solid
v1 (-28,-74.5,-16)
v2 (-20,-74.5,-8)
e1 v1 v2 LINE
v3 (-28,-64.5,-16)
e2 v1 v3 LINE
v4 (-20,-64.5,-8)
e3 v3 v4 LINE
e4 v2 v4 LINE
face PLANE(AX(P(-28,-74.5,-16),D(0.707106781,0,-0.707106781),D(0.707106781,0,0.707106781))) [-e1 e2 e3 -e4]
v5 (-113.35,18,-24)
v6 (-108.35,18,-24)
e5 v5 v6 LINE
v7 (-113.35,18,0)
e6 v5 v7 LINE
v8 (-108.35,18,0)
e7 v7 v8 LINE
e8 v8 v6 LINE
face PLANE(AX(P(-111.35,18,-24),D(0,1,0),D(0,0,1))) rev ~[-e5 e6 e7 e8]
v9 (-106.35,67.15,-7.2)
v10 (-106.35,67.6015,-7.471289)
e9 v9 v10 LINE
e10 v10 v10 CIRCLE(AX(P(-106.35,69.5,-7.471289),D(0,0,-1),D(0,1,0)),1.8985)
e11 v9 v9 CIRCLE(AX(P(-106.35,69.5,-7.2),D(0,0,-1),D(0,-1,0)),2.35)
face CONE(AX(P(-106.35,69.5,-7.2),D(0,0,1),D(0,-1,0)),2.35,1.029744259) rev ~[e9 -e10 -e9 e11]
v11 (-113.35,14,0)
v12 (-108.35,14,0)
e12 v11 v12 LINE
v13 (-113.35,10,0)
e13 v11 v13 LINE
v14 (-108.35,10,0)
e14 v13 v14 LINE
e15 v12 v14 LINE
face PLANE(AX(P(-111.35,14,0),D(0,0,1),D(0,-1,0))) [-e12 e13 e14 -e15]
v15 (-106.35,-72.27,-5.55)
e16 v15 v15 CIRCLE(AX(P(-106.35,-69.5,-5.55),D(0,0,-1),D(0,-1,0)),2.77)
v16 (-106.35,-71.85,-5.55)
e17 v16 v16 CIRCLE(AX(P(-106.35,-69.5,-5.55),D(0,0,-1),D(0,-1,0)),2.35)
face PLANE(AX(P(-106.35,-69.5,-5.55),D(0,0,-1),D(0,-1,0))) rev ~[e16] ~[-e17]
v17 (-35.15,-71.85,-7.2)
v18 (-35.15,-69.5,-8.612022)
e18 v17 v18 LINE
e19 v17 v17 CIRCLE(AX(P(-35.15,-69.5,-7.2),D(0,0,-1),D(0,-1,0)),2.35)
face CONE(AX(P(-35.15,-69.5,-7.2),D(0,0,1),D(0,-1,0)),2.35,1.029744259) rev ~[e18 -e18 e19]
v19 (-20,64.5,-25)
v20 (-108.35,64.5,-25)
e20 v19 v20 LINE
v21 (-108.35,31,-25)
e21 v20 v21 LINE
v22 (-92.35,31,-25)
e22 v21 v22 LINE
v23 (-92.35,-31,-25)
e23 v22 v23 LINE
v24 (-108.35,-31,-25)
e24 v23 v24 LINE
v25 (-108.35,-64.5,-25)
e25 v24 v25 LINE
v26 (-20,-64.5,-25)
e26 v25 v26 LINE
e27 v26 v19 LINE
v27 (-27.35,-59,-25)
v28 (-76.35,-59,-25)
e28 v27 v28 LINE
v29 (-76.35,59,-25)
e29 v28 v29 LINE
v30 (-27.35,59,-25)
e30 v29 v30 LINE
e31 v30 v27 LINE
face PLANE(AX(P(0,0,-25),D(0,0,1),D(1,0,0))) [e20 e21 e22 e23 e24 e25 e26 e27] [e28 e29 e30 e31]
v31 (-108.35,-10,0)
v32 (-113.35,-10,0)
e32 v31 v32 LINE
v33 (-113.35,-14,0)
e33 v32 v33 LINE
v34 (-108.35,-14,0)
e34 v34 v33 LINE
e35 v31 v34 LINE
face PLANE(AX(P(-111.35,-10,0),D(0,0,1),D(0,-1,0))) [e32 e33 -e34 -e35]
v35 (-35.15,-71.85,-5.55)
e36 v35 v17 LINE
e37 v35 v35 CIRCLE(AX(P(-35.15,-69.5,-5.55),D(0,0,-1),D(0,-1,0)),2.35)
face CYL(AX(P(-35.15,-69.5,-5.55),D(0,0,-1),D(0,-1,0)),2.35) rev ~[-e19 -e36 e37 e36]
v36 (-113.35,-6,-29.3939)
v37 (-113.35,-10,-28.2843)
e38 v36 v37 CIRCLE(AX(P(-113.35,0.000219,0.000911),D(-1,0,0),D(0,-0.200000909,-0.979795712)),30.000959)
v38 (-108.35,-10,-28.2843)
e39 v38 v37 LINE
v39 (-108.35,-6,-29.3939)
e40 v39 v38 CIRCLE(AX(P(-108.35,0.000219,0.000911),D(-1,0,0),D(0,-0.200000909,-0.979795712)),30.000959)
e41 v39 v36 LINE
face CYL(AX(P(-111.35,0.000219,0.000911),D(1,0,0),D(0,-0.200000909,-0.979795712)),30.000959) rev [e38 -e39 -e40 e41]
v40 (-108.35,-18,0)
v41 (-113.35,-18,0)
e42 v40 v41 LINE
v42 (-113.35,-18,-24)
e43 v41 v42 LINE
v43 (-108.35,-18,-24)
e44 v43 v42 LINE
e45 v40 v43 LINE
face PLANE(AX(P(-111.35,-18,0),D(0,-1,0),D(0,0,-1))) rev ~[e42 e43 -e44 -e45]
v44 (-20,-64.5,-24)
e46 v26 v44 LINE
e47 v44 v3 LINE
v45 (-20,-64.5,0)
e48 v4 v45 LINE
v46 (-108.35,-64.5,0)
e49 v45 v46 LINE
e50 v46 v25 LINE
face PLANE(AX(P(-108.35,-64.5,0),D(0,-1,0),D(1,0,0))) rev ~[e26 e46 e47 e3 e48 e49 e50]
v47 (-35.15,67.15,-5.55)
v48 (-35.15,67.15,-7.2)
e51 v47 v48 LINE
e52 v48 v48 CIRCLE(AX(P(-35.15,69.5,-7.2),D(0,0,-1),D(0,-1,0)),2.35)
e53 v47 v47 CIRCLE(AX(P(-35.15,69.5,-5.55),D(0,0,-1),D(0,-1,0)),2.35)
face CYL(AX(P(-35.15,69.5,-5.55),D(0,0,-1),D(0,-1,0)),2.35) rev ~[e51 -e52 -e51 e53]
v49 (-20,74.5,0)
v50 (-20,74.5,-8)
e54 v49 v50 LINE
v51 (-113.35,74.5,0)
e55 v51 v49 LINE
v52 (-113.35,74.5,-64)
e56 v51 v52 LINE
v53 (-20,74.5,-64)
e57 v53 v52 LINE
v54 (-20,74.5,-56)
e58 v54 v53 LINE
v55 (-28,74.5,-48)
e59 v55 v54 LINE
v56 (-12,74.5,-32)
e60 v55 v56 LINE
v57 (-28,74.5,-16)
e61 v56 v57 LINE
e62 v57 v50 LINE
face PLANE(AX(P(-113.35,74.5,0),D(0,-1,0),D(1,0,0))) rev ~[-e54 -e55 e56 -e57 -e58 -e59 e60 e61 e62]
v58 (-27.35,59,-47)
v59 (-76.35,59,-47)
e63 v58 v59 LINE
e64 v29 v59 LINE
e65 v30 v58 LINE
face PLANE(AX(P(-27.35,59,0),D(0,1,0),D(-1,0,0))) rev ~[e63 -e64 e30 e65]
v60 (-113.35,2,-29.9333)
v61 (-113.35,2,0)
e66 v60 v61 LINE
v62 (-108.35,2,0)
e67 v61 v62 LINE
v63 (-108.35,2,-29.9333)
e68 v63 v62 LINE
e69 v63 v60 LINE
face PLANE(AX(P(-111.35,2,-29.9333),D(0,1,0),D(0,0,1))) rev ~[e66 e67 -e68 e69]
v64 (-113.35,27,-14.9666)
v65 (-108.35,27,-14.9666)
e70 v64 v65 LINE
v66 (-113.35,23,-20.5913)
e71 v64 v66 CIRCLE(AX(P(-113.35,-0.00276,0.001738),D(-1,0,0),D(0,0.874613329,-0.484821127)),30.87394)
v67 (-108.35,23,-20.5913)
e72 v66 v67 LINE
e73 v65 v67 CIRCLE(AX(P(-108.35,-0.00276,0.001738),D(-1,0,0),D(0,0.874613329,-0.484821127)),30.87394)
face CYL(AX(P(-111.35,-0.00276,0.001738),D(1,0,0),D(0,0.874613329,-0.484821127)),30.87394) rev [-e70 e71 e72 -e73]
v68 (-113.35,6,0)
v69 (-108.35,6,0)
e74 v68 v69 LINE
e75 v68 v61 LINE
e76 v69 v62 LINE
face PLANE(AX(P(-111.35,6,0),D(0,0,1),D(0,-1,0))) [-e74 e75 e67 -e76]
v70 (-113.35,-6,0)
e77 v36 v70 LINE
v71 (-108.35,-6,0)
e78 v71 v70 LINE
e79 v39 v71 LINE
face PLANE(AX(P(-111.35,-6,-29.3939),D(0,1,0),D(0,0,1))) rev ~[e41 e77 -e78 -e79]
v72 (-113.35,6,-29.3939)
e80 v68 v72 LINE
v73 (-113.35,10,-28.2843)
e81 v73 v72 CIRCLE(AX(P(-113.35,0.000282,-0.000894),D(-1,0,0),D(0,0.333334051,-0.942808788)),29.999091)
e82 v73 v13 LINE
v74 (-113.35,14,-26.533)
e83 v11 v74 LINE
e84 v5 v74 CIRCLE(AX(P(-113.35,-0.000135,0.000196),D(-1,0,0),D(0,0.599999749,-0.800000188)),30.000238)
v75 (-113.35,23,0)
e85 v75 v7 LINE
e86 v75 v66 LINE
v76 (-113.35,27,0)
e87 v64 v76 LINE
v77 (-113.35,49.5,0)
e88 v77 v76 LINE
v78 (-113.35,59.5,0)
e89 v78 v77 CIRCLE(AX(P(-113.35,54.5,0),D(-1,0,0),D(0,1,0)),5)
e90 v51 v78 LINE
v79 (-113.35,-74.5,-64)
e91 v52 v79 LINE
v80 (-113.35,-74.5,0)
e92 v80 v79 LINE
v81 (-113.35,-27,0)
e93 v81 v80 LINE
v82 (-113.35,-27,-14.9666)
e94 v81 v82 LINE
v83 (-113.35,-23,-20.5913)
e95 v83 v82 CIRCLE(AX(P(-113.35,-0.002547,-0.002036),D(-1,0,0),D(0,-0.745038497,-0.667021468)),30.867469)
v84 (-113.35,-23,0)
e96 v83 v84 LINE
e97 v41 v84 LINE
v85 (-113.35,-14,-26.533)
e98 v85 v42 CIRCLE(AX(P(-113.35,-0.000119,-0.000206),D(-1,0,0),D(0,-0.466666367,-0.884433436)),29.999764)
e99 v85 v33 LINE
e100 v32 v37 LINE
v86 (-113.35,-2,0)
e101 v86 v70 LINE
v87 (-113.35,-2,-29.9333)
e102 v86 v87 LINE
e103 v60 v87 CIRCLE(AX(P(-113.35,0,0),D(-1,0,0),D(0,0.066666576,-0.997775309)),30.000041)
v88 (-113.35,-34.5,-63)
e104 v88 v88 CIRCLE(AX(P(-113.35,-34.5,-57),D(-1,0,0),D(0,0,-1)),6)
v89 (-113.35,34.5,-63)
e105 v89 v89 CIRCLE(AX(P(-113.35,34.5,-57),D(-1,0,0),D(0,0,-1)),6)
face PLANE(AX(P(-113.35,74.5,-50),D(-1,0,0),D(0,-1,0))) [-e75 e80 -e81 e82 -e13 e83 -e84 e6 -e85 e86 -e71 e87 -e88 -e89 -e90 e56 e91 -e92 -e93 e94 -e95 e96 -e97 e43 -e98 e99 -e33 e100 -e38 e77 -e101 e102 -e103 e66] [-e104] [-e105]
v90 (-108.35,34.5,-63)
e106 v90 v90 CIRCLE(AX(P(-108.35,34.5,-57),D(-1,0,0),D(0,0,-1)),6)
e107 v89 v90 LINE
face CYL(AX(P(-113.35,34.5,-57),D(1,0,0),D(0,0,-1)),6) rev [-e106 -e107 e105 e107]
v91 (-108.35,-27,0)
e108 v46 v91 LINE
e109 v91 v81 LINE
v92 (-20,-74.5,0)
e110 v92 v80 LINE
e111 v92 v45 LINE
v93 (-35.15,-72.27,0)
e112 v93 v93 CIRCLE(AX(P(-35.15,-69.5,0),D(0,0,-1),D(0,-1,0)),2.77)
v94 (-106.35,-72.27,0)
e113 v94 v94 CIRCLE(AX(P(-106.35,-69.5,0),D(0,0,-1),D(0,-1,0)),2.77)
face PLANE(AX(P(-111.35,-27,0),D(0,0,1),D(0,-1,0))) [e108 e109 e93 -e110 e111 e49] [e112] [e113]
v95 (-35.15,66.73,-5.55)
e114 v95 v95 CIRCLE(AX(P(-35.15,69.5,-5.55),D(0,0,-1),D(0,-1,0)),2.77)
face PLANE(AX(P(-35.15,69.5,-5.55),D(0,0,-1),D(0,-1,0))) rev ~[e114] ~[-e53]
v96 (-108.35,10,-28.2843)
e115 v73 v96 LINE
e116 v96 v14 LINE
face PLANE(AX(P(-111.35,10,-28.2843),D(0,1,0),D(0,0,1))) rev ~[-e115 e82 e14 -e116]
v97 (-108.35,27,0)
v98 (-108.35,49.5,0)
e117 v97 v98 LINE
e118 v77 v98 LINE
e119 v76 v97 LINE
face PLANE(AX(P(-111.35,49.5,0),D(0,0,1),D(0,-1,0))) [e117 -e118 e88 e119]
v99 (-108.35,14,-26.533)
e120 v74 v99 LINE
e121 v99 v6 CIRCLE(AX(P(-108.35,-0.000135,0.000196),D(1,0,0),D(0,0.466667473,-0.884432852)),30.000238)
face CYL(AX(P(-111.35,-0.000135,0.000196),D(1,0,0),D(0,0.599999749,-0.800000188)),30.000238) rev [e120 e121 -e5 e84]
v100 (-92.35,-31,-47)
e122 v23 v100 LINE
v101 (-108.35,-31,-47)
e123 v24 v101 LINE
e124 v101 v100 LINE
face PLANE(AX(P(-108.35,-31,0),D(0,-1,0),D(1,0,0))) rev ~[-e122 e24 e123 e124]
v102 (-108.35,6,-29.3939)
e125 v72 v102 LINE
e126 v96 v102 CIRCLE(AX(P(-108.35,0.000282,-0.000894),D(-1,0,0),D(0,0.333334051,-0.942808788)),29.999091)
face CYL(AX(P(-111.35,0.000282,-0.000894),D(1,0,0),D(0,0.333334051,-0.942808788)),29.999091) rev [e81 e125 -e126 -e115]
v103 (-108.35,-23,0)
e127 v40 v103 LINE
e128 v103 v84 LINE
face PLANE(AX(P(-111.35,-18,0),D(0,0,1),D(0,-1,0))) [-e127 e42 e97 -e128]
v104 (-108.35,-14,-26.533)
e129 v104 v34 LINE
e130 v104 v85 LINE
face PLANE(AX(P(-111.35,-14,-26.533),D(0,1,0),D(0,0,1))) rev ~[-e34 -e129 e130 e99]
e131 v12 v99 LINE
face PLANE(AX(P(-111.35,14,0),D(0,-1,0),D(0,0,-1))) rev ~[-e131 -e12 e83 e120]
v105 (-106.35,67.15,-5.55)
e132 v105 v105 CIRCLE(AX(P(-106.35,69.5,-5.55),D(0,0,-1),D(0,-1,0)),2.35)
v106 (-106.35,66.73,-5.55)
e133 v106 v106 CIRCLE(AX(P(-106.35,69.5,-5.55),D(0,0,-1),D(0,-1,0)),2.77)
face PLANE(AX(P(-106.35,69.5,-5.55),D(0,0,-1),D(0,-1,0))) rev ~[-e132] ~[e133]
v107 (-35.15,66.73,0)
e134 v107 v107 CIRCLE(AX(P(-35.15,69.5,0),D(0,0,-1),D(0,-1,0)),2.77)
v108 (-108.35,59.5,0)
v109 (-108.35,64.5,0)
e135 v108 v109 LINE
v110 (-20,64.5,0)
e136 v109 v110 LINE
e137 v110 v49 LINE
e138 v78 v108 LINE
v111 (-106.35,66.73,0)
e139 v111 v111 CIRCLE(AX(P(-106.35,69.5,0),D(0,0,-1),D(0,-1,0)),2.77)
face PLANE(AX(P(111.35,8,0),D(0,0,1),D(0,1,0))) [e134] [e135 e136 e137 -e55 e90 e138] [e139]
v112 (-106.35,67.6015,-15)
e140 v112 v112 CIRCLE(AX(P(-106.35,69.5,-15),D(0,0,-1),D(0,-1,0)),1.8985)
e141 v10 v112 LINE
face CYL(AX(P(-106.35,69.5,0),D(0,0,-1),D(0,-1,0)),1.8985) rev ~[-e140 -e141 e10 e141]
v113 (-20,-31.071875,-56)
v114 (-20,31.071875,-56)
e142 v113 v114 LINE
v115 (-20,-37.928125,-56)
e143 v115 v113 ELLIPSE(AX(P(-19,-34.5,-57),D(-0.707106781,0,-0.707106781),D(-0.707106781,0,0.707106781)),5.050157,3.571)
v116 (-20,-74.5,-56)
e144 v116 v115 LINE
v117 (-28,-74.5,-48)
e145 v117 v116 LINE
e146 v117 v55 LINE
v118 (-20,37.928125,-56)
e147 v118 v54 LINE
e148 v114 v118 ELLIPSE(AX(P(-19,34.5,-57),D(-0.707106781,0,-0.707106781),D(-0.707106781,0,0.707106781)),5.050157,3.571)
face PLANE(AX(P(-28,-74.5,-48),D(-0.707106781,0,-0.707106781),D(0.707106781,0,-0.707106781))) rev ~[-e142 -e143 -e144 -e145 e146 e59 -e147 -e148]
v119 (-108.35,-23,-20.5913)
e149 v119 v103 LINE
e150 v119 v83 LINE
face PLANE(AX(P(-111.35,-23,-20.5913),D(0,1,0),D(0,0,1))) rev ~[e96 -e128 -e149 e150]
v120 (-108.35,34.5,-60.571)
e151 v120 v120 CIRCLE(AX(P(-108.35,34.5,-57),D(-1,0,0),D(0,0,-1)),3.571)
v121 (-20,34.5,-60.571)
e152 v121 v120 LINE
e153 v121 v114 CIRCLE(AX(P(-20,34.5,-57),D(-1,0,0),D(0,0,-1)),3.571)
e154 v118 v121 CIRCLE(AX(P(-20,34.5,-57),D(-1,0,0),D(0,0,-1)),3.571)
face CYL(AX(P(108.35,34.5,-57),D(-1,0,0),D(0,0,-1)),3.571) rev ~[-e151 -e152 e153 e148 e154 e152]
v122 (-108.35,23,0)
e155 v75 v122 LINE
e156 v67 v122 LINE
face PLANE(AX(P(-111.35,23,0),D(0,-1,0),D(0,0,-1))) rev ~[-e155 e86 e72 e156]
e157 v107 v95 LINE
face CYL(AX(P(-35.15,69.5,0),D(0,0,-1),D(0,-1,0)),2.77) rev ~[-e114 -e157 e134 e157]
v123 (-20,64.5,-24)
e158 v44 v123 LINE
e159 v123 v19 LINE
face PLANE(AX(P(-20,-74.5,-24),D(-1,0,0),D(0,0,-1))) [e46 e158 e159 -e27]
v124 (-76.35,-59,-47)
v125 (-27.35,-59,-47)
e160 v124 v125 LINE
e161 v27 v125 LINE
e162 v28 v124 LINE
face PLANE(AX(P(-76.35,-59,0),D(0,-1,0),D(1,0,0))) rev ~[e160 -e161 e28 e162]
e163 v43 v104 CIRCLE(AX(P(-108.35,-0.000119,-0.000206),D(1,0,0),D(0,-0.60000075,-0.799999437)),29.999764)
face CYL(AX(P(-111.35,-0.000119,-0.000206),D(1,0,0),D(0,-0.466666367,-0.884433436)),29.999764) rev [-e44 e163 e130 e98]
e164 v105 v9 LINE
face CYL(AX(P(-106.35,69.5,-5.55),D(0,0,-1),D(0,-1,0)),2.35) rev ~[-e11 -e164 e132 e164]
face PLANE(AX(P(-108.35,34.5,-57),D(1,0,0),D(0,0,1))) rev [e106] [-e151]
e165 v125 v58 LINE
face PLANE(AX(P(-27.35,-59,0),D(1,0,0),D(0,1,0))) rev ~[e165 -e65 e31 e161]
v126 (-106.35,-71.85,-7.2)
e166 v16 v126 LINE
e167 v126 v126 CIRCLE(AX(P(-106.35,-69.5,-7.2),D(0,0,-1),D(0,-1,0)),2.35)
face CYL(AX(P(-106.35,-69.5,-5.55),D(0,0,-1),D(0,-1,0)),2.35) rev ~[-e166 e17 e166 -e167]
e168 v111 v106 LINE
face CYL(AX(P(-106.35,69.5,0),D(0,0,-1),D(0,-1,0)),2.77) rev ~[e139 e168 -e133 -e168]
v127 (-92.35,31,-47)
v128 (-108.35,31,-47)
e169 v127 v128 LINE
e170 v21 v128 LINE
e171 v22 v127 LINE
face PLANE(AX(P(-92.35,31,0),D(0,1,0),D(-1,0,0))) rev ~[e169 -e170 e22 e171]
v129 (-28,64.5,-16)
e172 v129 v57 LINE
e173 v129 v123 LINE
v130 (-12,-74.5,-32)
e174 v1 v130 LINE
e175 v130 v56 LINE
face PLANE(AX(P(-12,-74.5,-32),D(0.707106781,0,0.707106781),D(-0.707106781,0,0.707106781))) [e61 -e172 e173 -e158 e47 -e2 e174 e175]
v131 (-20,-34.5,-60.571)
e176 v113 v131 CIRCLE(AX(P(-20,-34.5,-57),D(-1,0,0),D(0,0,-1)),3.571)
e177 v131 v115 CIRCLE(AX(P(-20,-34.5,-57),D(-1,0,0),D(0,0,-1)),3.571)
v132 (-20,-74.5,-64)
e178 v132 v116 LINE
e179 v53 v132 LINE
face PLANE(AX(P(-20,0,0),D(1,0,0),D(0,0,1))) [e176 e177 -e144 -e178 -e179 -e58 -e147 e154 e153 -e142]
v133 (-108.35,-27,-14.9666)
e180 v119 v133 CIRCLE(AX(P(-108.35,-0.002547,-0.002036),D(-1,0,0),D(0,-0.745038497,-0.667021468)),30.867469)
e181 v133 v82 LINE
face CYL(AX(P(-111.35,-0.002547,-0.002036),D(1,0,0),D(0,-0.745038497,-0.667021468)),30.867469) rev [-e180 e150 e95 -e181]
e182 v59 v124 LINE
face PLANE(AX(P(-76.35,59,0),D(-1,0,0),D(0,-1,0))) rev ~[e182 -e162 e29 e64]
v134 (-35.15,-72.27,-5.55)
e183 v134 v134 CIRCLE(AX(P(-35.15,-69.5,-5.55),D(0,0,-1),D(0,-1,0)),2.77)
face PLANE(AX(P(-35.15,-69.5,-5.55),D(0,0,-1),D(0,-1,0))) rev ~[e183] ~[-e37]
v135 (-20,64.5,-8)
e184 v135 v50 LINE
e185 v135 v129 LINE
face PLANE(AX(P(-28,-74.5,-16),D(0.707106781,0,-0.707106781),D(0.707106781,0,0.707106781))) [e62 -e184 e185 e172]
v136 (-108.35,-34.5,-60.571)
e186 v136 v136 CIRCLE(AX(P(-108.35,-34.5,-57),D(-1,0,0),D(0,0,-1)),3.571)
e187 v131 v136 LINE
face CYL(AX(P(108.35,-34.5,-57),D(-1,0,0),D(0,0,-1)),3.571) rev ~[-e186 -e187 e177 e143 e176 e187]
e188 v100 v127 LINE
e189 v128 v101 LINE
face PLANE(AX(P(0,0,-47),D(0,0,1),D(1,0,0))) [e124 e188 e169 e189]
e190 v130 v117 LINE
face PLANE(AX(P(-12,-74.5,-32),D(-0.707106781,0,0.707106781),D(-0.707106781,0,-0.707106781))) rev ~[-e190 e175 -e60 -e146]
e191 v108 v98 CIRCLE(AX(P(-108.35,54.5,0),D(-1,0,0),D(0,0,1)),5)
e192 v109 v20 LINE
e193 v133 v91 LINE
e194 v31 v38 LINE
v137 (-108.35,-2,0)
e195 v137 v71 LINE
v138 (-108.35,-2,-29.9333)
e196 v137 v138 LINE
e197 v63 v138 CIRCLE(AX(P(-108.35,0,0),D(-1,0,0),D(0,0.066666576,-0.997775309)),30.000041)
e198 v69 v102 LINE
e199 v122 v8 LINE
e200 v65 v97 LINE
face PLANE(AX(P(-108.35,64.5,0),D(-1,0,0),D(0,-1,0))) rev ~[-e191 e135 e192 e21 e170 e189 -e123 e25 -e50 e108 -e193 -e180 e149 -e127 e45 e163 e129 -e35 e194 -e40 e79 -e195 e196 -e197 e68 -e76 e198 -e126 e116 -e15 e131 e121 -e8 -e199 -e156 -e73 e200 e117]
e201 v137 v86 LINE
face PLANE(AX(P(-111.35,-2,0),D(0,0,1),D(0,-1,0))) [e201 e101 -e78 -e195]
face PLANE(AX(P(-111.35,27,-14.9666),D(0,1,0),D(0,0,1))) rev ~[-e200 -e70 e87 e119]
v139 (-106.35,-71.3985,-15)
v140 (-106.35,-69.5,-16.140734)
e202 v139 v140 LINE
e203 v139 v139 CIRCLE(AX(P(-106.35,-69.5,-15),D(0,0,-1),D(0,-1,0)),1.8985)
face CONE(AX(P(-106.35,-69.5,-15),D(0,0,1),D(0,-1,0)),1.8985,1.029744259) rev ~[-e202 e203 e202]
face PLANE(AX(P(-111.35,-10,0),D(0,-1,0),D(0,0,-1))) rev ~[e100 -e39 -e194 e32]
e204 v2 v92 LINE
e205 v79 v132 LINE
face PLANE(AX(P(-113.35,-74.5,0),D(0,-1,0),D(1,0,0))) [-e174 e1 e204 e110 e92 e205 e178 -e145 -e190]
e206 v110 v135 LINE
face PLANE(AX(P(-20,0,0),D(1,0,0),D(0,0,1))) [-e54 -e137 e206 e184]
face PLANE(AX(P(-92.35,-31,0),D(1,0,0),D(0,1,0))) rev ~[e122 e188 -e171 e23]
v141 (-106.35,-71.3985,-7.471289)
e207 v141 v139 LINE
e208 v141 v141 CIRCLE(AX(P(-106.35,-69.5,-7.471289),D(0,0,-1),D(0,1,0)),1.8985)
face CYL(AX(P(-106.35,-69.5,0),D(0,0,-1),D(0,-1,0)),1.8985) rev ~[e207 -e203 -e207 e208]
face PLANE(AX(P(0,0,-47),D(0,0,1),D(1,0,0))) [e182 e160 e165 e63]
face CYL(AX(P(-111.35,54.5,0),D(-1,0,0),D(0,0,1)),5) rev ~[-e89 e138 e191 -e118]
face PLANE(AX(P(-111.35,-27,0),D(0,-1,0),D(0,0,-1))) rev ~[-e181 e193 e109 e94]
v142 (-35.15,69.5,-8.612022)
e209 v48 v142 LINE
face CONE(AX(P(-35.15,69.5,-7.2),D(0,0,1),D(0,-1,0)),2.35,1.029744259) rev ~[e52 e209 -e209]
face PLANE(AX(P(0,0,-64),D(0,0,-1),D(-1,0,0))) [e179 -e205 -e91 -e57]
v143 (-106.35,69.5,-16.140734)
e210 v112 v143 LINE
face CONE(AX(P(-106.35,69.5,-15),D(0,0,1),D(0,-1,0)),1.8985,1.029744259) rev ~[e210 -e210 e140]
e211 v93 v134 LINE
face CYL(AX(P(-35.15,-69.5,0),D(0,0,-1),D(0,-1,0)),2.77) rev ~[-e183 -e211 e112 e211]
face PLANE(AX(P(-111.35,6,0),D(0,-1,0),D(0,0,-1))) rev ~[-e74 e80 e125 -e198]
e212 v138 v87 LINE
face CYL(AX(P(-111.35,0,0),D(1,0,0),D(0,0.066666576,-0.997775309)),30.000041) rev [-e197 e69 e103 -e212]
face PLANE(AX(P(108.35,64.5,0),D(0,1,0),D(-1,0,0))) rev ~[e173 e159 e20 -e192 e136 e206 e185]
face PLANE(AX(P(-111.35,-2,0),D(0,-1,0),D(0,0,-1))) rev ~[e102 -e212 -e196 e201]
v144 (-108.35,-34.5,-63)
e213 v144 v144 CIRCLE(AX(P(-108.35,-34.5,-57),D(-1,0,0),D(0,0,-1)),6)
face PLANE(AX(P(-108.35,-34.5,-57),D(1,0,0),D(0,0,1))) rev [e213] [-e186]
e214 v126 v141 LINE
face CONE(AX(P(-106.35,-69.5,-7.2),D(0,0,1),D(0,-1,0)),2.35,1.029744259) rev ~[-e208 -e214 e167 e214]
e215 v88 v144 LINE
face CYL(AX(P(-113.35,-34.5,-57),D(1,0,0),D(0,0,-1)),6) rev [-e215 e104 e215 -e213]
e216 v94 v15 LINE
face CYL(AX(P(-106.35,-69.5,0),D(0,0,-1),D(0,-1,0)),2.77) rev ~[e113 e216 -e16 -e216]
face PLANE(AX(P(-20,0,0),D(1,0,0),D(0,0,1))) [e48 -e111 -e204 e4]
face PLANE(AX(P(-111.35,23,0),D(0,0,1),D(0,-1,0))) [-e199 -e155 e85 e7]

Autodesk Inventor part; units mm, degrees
ref_plane "XZ Plane" through (0, 0, 0) normal (0, 1, 0) x (-1, 0, 0)
ref_plane "XY Plane" through (0, 0, 0) normal (0, 0, 1) x (1, 0, 0)
sketch "Sketch1" plane through (0, 0, 0) normal (0, 0, 1) x (1, 0, 0)
  line L0 (-111.35, -74.5) -> (111.35, -74.5)
  line L1 (111.35, -74.5) -> (111.35, 74.5)
  line L2 (111.35, 74.5) -> (-111.35, 74.5)
  line L3 (-111.35, 74.5) -> (-111.35, -74.5)
  line L4 (-111.35, -74.5) -> (111.35, 74.5) construction
  line L5 (111.35, -74.5) -> (-111.35, 74.5) construction
  point P0 (0, 0)
  dimension "d0" = 222.7
  dimension "d1" = 149
extrude "MainInnerBodyExtrusion" add sketch "Sketch1" against normal blind 50
sketch "Sketch3" plane through (0, 0, 0) normal (0, 0, 1) x (1, 0, 0)
  line L0 (36.65, -27) -> (95.65, -27)
  line L1 (95.65, -27) -> (95.65, 27)
  line L2 (95.65, 27) -> (36.65, 27)
  line L3 (36.65, 27) -> (36.65, -27)
  line L4 (36.65, -27) -> (95.65, 27) construction
  line L5 (95.65, -27) -> (36.65, 27) construction
  line L6 (111.35, -74.5) -> (111.35, 74.5) projected
  line L7 (0, 0) -> (111.35, 0) construction
  line L8 (-111.35, -74.5) -> (-111.35, 74.5) construction
  line L9 (-111.35, 74.5) -> (-111.35, -74.5) projected
  point P0 (66.15, 0)
  point P1 (66.15, 0)
  dimension "d5" = 15.7
  dimension "d6" = 54
  dimension "d7" = 59
extrude "HoleForCamerabase" cut sketch "Sketch3" against normal blind 47
sketch "Sketch4" plane through (0, 0, 0) normal (0, 0, 1) x (1, 0, 0)
  line L0 (0, 0) -> (-111.35, 0) construction
  line L1 (-111.35, -74.5) -> (-111.35, 74.5) construction
  line L2 (-108.35, -31) -> (-92.35, -31)
  line L3 (-92.35, -31) -> (-92.35, 31)
  line L4 (-92.35, 31) -> (-108.35, 31)
  line L5 (-108.35, 31) -> (-108.35, -31)
  line L6 (-108.35, -31) -> (-92.35, 31) construction
  line L7 (-92.35, -31) -> (-108.35, 31) construction
  point P0 (-100.35, 0)
  dimension "d13" = 16
  dimension "d14" = 62
  dimension "d15" = 3
extrude "HoleForFan" cut sketch "Sketch4" against normal blind 47
sketch "Sketch6" plane through (0, 0, 0) normal (0, 0, 1) x (1, 0, 0)
  line L0 (-111.35, -74.5) -> (-111.35, 74.5) construction
  line L1 (-111.35, 0) -> (111.35, 0) construction
  line L2 (111.35, 74.5) -> (111.35, -74.5) construction
  line L3 (-11.35, -64.5) -> (20.65, -64.5)
  line L4 (20.65, -64.5) -> (20.65, 64.5)
  line L5 (20.65, 64.5) -> (-11.35, 64.5)
  line L6 (-11.35, 64.5) -> (-11.35, -64.5)
  line L7 (-11.35, -64.5) -> (20.65, 64.5) construction
  line L8 (20.65, -64.5) -> (-11.35, 64.5) construction
  line L9 (36.65, -27) -> (36.65, 27) projected
  point P0 (0, 0)
  point P1 (4.65, 0)
  dimension "d20" = 32
  dimension "d21" = 129
  dimension "d88" = 16
extrude "HoleForPi" cut sketch "Sketch6" against normal blind 47
sketch "Sketch7" plane through (0, 0, 0) normal (0, 0, 1) x (1, 0, 0)
  line L0 (0, 0) -> (-111.35, 0) construction
  line L1 (-111.35, 74.5) -> (-111.35, -74.5) construction
  line L2 (-76.35, -59) -> (-27.35, -59)
  line L3 (-27.35, -59) -> (-27.35, 59)
  line L4 (-27.35, 59) -> (-76.35, 59)
  line L5 (-76.35, 59) -> (-76.35, -59)
  line L6 (-76.35, -59) -> (-27.35, 59) construction
  line L7 (-27.35, -59) -> (-76.35, 59) construction
  line L8 (-11.35, -64.5) -> (-11.35, 64.5) projected
  line L9 (-92.35, 31) -> (-92.35, -31) construction
  point P0 (-51.85, 0)
  dimension "d25" = 16
  dimension "d26" = 49
  dimension "d27" = 118
extrude "HoleForPoeAdapter" cut sketch "Sketch7" against normal blind 47
sketch "Sketch10" plane through (0, 0, 0) normal (0, 0, 1) x (1, 0, 0)
  line L0 (39.35, 36.5) -> (108.35, 36.5)
  line L1 (108.35, 36.5) -> (108.35, 64.5)
  line L2 (108.35, 64.5) -> (39.35, 64.5)
  line L3 (39.35, 64.5) -> (39.35, 36.5)
  line L4 (39.35, 36.5) -> (108.35, 64.5) construction
  line L5 (108.35, 36.5) -> (39.35, 64.5) construction
  line L6 (111.35, 74.5) -> (-111.35, 74.5) projected
  line L7 (111.35, -74.5) -> (111.35, 74.5) projected
  point P0 (0, 0)
  point P1 (73.85, 50.5)
  point P2 (94.85, 8.5)
  point P3 (108.35, 50.5)
  dimension "d36" = 69
  dimension "d37" = 28
  dimension "d85" = 3
extrude "HoleForThermister" cut sketch "Sketch10" against normal blind 47
sketch "Sketch11" plane through (0, 0, 0) normal (0, 0, 1) x (1, 0, 0)
  line L0 (58.35, -64.5) -> (108.35, -64.5)
  line L1 (108.35, -64.5) -> (108.35, -47.5)
  line L2 (108.35, -47.5) -> (58.35, -47.5)
  line L3 (58.35, -47.5) -> (58.35, -64.5)
  line L4 (58.35, -64.5) -> (108.35, -47.5) construction
  line L5 (108.35, -64.5) -> (58.35, -47.5) construction
  line L6 (111.35, -74.5) -> (111.35, 74.5) projected
  line L7 (-111.35, -74.5) -> (111.35, -74.5) projected
  line L8 (95.65, -27) -> (36.65, -27) projected
  line L9 (20.65, 64.5) -> (20.65, -64.5) projected
  point P0 (0, 0)
  point P1 (83.35, -56)
  point P2 (94.85, -8.5)
  point P3 (83.35, -47.5)
  point P4 (58.35, -56)
  point P5 (111.35, 74.5)
  dimension "d42" = 50
  dimension "d43" = 17
  dimension "d86" = 3
  dimension "d87" = 10
extrude "HoleForSensor" cut sketch "Sketch11" against normal blind 31.5
sketch "Sketch15" plane through (-111.35, -74.5, 0) normal (-1, 0, 0) x (0, 0, 1)
  line L0 (0, 149) -> (0, 0) projected
  line L1 (0, 149) -> (-50, 149) projected
  line L2 (-50, 0) -> (-50, 149) projected
  line L3 (0, 0) -> (-50, 0) projected
  line L4 (0, 0) -> (0, 149) projected
  line L5 (0, 101.5) -> (0, 47.5) projected
  line L6 (0, 74.5) -> (-30, 74.5) construction
  line L7 (0, 76.5) -> (-29.9333, 76.5)
  line L8 (0, 84.5) -> (-28.2843, 84.5)
  line L9 (0, 80.5) -> (-29.3939, 80.5)
  line L10 (0, 76.5) -> (0, 74.5)
  line L11 (0, 88.5) -> (-26.533, 88.5)
  line L12 (0, 92.5) -> (-24, 92.5)
  line L13 (-20.5913, 97.5) -> (0, 97.5)
  line L14 (-14.9666, 101.5) -> (0, 101.5)
  line L15 (0, 84.5) -> (0, 80.5)
  line L16 (0, 101.5) -> (0, 97.5)
  line L17 (0, 92.5) -> (0, 88.5)
  line L18 (0, 72.5) -> (-29.9333, 72.5)
  line L19 (0, 64.5) -> (-28.2843, 64.5)
  line L20 (0, 68.5) -> (-29.3939, 68.5)
  line L21 (0, 72.5) -> (0, 74.5)
  line L22 (0, 60.5) -> (-26.533, 60.5)
  line L23 (0, 56.5) -> (-24, 56.5)
  line L24 (-20.5913, 51.5) -> (0, 51.5)
  line L25 (-14.9666, 47.5) -> (0, 47.5)
  line L26 (0, 64.5) -> (0, 68.5)
  line L27 (0, 56.5) -> (0, 60.5)
  line L28 (0, 47.5) -> (0, 51.5)
  line L29 (0, 72.5) -> (0, 76.5)
  line L30 (0, 80.5) -> (0, 84.5)
  line L31 (0, 88.5) -> (0, 92.5)
  line L32 (0, 97.5) -> (0, 149)
  arc A0 (-28.2843, 84.5) -> (-29.3939, 80.5) centre (0, 74.5) ccw
  arc A1 (-14.9666, 101.5) -> (-20.5913, 97.5) centre (0, 74.5) ccw
  arc A2 (-24, 92.5) -> (-26.533, 88.5) centre (0, 74.5) ccw
  arc A3 (-29.9333, 76.5) -> (-29.9333, 72.5) centre (0, 74.5) ccw
  arc A4 (-29.3939, 68.5) -> (-28.2843, 64.5) centre (0, 74.5) ccw
  arc A5 (-26.533, 60.5) -> (-24, 56.5) centre (0, 74.5) ccw
  arc A6 (-20.5913, 51.5) -> (-14.9666, 47.5) centre (0, 74.5) ccw
  point P0 (0, 82)
  point P1 (0, 67.0167)
  point P2 (0, 4.25)
  point P3 (-10.2956, 97.5)
  point P4 (0, 47.5)
  point P5 (0, 51.5)
  point P6 (0, 56.5)
  point P7 (0, 60.5)
  point P8 (0, 64.5)
  point P9 (0, 68.5)
  point P10 (0, 72.5)
  point P11 (0, 80.5)
  point P12 (0, 84.5)
  point P13 (0, 88.5)
  point P14 (0, 92.5)
  point P15 (0, 97.5)
  point P16 (0, 101.5)
  dimension "d69" = 2
  dimension "d71" = 4
  dimension "d72" = 4
  dimension "d73" = 4
  dimension "d75" = 4
  dimension "d142" = 30
extrude "SlotsForRearFan" cut sketch "Sketch15" against normal up to surface (3 mm away) contours L0 L13 A1 L14 | L0 L11 A2 L12 | L25 A6 L24 L0 | L0 L9 A0 L8 | L23 A5 L22 L0 | L0 L18 A3 L7 | L19 A4 L20 L0
sketch "Sketch16" plane through (0, 0, -47) normal (0, 0, 1) x (1, 0, 0)
  line L0 (95.65, 27) -> (95.65, -27) projected
  line L1 (80.15, 10.765) -> (80.15, -11.235) construction
  line L2 (78.65, 10.765) -> (78.65, -11.235)
  line L3 (75.65, -11.235) -> (75.65, 10.765)
  line L4 (72.65, 8.7746) -> (72.65, -9.2446)
  line L5 (69.65, 3.5785) -> (69.65, -4.0485)
  line L6 (81.65, 10.765) -> (81.65, -11.235)
  line L7 (84.65, -11.235) -> (84.65, 10.765)
  line L8 (87.65, 8.7746) -> (87.65, -9.2446)
  line L9 (90.65, 3.5785) -> (90.65, -4.0485)
  line L10 (73.7991, 10.765) -> (75.65, 10.765)
  line L11 (75.65, -11.235) -> (73.7991, -11.235)
  line L12 (73.7991, -11.235) -> (72.65, -9.2446)
  line L13 (69.65, -4.0485) -> (67.4483, -0.235)
  line L14 (67.4483, -0.235) -> (69.65, 3.5785)
  line L15 (72.65, 8.7746) -> (73.7991, 10.765)
  line L16 (78.65, 10.765) -> (81.65, 10.765)
  line L17 (84.65, 10.765) -> (86.5009, 10.765)
  line L18 (86.5009, -11.235) -> (84.65, -11.235)
  line L19 (81.65, -11.235) -> (78.65, -11.235)
  line L20 (92.8517, -0.235) -> (90.65, -4.0485)
  line L21 (87.65, -9.2446) -> (86.5009, -11.235)
  line L22 (86.5009, 10.765) -> (87.65, 8.7746)
  line L23 (90.65, 3.5785) -> (92.8517, -0.235)
  point P0 (0, 0)
  point P1 (80.15, -0.235)
  point P2 (69.65, -0.235)
  dimension "d78" = 15.5
  dimension "d89" = 1.5
  dimension "d90" = 3
  dimension "d91" = 3
  dimension "d92" = 3
extrude "VentForCamera" cut sketch "Sketch16" against normal through all
sketch "Sketch18" plane through (111.35, -74.5, 0) normal (1, 0, 0) x (0, 0, -1)
  line L0 (0, 74.5) -> (29.6767, 74.5) construction
  arc A0 (24, 66.5) -> (24, 82.5) centre (24, 74.5) ccw
  line L1 (0, 0) -> (0, 149) projected
  line L2 (24, 82.5) -> (0, 82.5)
  line L3 (24, 66.5) -> (0, 66.5)
  line L4 (0, 82.5) -> (0, 66.5)
  point P0 (0, 74.5)
  dimension "d97" = 16
  dimension "d137" = 24
extrude "HoleForLens" cut sketch "Sketch18" against normal up to surface (15.7 mm away)
sketch "Sketch23" plane through (0, 0, 0) normal (0, 0, 1) x (1, 0, 0)
  line L0 (-106.35, -69.5) -> (106.35, -69.5) construction
  line L1 (106.35, -69.5) -> (106.35, 69.5) construction
  line L2 (106.35, 69.5) -> (-106.35, 69.5) construction
  line L3 (-106.35, 69.5) -> (-106.35, -69.5) construction
  line L4 (-106.35, -69.5) -> (106.35, 69.5) construction
  line L5 (106.35, -69.5) -> (-106.35, 69.5) construction
  line L6 (111.35, -74.5) -> (111.35, -8) projected
  line L7 (111.35, 74.5) -> (-111.35, 74.5) projected
  line L8 (-111.35, -27) -> (-111.35, -74.5) projected
  line L9 (-111.35, 74.5) -> (-111.35, 27) projected
  line L10 (111.35, 8) -> (111.35, 74.5) projected
  point P0 (0, 0)
  point P1 (35.15, -69.5)
  point P2 (-35.15, -69.5)
  point P3 (-35.15, 69.5)
  point P4 (35.15, 69.5)
  dimension "d106" = 5
  dimension "d108" = 5
  dimension "d222" = 76.2
  dimension "d223" = 76.2
  dimension "d224" = 76.2
  dimension "d225" = 76.2
hole "Hole for 6-32 Insert" at (-106.35, 69.5, 0) at (106.35, 69.5, 0) at (106.35, -69.5, 0) at (-106.35, -69.5, 0) at (-35.15, -69.5, 0) at (35.15, -69.5, 0) at (-35.15, 69.5, 0) at (35.15, 69.5, 0) direction (0, 0, -1) diameter 4.7 depth 7.2 tip angle 118 counterbore diameter 5.54 counterbore depth 5.55
hole "Screw hole for 6-32 screw" at (-106.35, -69.5, 0) at (106.35, -69.5, 0) at (106.35, 69.5, 0) at (-106.35, 69.5, 0) direction (0, 0, -1) diameter 3.797 depth 15 tip angle 118 clearance for "Hex Machine Screw" size "#6" standard "Ansi Unified Screw Threads"
sketch "Sketch24" plane through (-111.35, -74.5, 0) normal (0, -1, 0) x (1, 0, 0)
  line L0 (0, -50) -> (222.7, -50) construction
  line L1 (222.7, 0) -> (207, 0) construction
  line L2 (0, 0) -> (0, -50) projected
  line L3 (111.3501, -25) -> (0, -25) construction
  line L4 (111.3501, -25) -> (222.7, -24.84) construction
  line L5 (222.7, 0) -> (222.7, -50) construction
  point P0 (111.35, 0)
  dimension "d226" = 25
  dimension "d227" = 111.3501
hole "Side hole for 1-4 20 insert" at (0.0001, -74.5, -25) direction (0, 1, 0) diameter 7.666 depth 9.53 tip angle 118 counterbore diameter 8.406 counterbore depth 7.41 clearance for "Hex Machine Screw" size "1/4" standard "Ansi Unified Screw Threads"
mirror "Mirror for side insert" about plane through (0, 0, 0) normal (0, 1, 0) of "Side hole for 1-4 20 insert"
sketch "Sketch25" plane through (0, 0, 0) normal (0, 0, 1) x (1, 0, 0)
  line L0 (111.35, 74.5) -> (-111.35, 74.5) projected
  line L1 (-111.35, 74.5) -> (-111.35, 27) projected
  line L2 (-111.35, -74.5) -> (111.35, -74.5) projected
  line L3 (81.65, -11.235) -> (78.65, -11.235) projected
  line L4 (78.65, -11.235) -> (78.65, 10.765) projected
  line L5 (78.65, 10.765) -> (81.65, 10.765) projected
  line L6 (81.65, 10.765) -> (81.65, -11.235) projected
  line L7 (73.7991, 10.765) -> (75.65, 10.765) projected
  line L8 (75.65, 10.765) -> (75.65, -11.235) projected
  line L9 (75.65, -11.235) -> (73.7991, -11.235) projected
  line L10 (73.7991, -11.235) -> (72.65, -9.2446) projected
  line L11 (72.65, -9.2446) -> (72.65, 8.7746) projected
  line L12 (72.65, 8.7746) -> (73.7991, 10.765) projected
  line L13 (87.65, 8.7746) -> (87.65, -9.2446) projected
  line L14 (87.65, -9.2446) -> (86.5009, -11.235) projected
  line L15 (86.5009, -11.235) -> (84.65, -11.235) projected
  line L16 (84.65, -11.235) -> (84.65, 10.765) projected
  line L17 (84.65, 10.765) -> (86.5009, 10.765) projected
  line L18 (86.5009, 10.765) -> (87.65, 8.7746) projected
  line L19 (69.65, 3.5785) -> (69.65, -4.0485) projected
  line L20 (69.65, -4.0485) -> (67.4483, -0.235) projected
  line L21 (67.4483, -0.235) -> (69.65, 3.5785) projected
  line L22 (92.8517, -0.235) -> (90.65, -4.0485) projected
  line L23 (90.65, -4.0485) -> (90.65, 3.5785) projected
  line L24 (90.65, 3.5785) -> (92.8517, -0.235) projected
  line L25 (95.65, 27) -> (95.65, -27) projected
  line L26 (36.65, 27) -> (95.65, 27) projected
  line L27 (36.65, -27) -> (36.65, 27) projected
  line L28 (95.65, -27) -> (36.65, -27) projected
  line L29 (111.35, -74.5) -> (111.35, -8) projected
  line L30 (111.35, 8) -> (111.35, 74.5) projected
  line L31 (-108.35, -64.5) -> (108.35, -64.5)
  line L32 (108.35, -64.5) -> (108.35, 64.5)
  line L33 (108.35, 64.5) -> (-108.35, 64.5)
  line L34 (-108.35, 64.5) -> (-108.35, -64.5)
  line L35 (-108.35, -64.5) -> (108.35, 64.5) construction
  line L36 (108.35, -64.5) -> (-108.35, 64.5) construction
  line L37 (-27.35, 59) -> (-27.35, -59) projected
  point P0 (0, 0)
  dimension "d138" = 10
  dimension "d139" = 3
extrude "Extrusion18" cut sketch "Sketch25" against normal blind 25 contours L34 L33 L32 L31
sketch "Sketch26" plane through (-111.35, -74.5, -50) normal (-1, 0, 0) x (0, 0, 1)
  arc A0 (50, 124) -> (50, 134) centre (50, 129) ccw
  circle A1 centre (50, 129) radius 5
  point P0 (50, 74.5)
  point P1 (50, 124)
extrude "HoleForPowerWire" cut sketch "Sketch26" against normal up to surface (3 mm away)
sketch "Sketch37" plane through (-111.35, -74.5, -50) normal (-1, 0, 0) x (0, 0, 1)
  arc A0 (50, 134) -> (50, 124) centre (50, 129) ccw projected
  line L0 (50, 149) -> (50, 134) projected
  line L1 (50, 149) -> (0, 149) projected
  line L2 (0, 0) -> (0, 149) projected
  line L3 (50, 0) -> (0, 0) projected
  line L4 (50, 47.5) -> (50, 0) projected
  line L5 (50, 47.5) -> (35.0334, 47.5) projected
  arc A1 (29.4087, 51.5) -> (35.0334, 47.5) centre (50, 74.5) ccw projected
  line L6 (29.4087, 51.5) -> (50, 51.5) projected
  line L7 (50, 56.5) -> (50, 51.5) projected
  line L8 (50, 56.5) -> (26, 56.5) projected
  arc A2 (23.467, 60.5) -> (26, 56.5) centre (50, 74.5) ccw projected
  line L9 (23.467, 60.5) -> (50, 60.5) projected
  line L10 (50, 64.5) -> (50, 60.5) projected
  line L11 (50, 64.5) -> (21.7157, 64.5) projected
  arc A3 (20.6061, 68.5) -> (21.7157, 64.5) centre (50, 74.5) ccw projected
  line L12 (20.6061, 68.5) -> (50, 68.5) projected
  line L13 (50, 72.5) -> (50, 68.5) projected
  line L14 (50, 72.5) -> (20.0667, 72.5) projected
  arc A4 (20.0667, 76.5) -> (20.0667, 72.5) centre (50, 74.5) ccw projected
  line L15 (20.0667, 76.5) -> (50, 76.5) projected
  line L16 (50, 80.5) -> (50, 76.5) projected
  line L17 (50, 80.5) -> (20.6061, 80.5) projected
  arc A5 (21.7157, 84.5) -> (20.6061, 80.5) centre (50, 74.5) ccw projected
  line L18 (21.7157, 84.5) -> (50, 84.5) projected
  line L19 (50, 88.5) -> (50, 84.5) projected
  line L20 (50, 88.5) -> (23.467, 88.5) projected
  arc A6 (26, 92.5) -> (23.467, 88.5) centre (50, 74.5) ccw projected
  line L21 (26, 92.5) -> (50, 92.5) projected
  line L22 (50, 97.5) -> (50, 92.5) projected
  line L23 (50, 97.5) -> (29.4087, 97.5) projected
  arc A7 (35.0334, 101.5) -> (29.4087, 97.5) centre (50, 74.5) ccw projected
  line L24 (35.0334, 101.5) -> (50, 101.5) projected
  line L25 (50, 124) -> (50, 101.5) projected
  line L26 (0, 149) -> (50, 149)
  line L27 (50, 149) -> (50, 0)
  line L28 (50, 0) -> (0, 0)
  line L29 (0, 0) -> (0, 149)
extrude "Extrusion22" add sketch "Sketch37" along normal blind 2 contours A0 L25 L24 A7 L23 L22 L21 A6 L20 L19 L18 A5 L17 L16 L15 A4 L14 L13 L12 A3 L11 L10 L9 A2 L8 L7 L6 A1 L5 L4 L3 L2 L1 L0
sketch "Sketch38" plane through (111.35, -74.5, -50) normal (1, 0, 0) x (0, 0, -1)
  line L0 (-50, 82.5) -> (-50, 149) projected
  line L1 (-50, 0) -> (0, 0) projected
  line L2 (0, 149) -> (0, 0) projected
  line L3 (-50, 149) -> (0, 149) projected
  line L4 (-50, 0) -> (-50, 66.5) projected
  arc A0 (-50, 65.1192) -> (-50, 83.8808) centre (-29, 74.5) ccw projected
  line L5 (-26, 66.5) -> (-50, 66.5) projected
  arc A1 (-26, 66.5) -> (-26, 82.5) centre (-26, 74.5) ccw projected
  line L6 (-50, 82.5) -> (-26, 82.5) projected
  line L7 (-26, 66.5) -> (-50, 66.5) projected
  line L8 (-50, 82.5) -> (-26, 82.5) projected
  arc A2 (-26, 66.5) -> (-26, 82.5) centre (-26, 74.5) ccw projected
  point P0 (-50, 74.5)
extrude "Extrusion23" add sketch "Sketch38" along normal blind 2
sketch "Sketch39" plane through (0, 0, -50) normal (0, 0, -1) x (-1, 0, 0)
  line L0 (-78.65, -11.235) -> (-81.65, -11.235) projected
  line L1 (-81.65, -11.235) -> (-81.65, 10.765) projected
  line L2 (-81.65, 10.765) -> (-78.65, 10.765) projected
  line L3 (-78.65, 10.765) -> (-78.65, -11.235) projected
  line L4 (-75.65, 10.765) -> (-73.7991, 10.765) projected
  line L5 (-73.7991, 10.765) -> (-72.65, 8.7746) projected
  line L6 (-72.65, 8.7746) -> (-72.65, -9.2446) projected
  line L7 (-72.65, -9.2446) -> (-73.7991, -11.235) projected
  line L8 (-73.7991, -11.235) -> (-75.65, -11.235) projected
  line L9 (-75.65, -11.235) -> (-75.65, 10.765) projected
  line L10 (-87.65, -9.2446) -> (-87.65, 8.7746) projected
  line L11 (-87.65, 8.7746) -> (-86.5009, 10.765) projected
  line L12 (-86.5009, 10.765) -> (-84.65, 10.765) projected
  line L13 (-84.65, 10.765) -> (-84.65, -11.235) projected
  line L14 (-84.65, -11.235) -> (-86.5009, -11.235) projected
  line L15 (-86.5009, -11.235) -> (-87.65, -9.2446) projected
  line L16 (-69.65, -4.0485) -> (-69.65, 3.5785) projected
  line L17 (-69.65, 3.5785) -> (-67.4483, -0.235) projected
  line L18 (-67.4483, -0.235) -> (-69.65, -4.0485) projected
  line L19 (-90.65, -4.0485) -> (-92.8517, -0.235) projected
  line L20 (-92.8517, -0.235) -> (-90.65, 3.5785) projected
  line L21 (-90.65, 3.5785) -> (-90.65, -4.0485) projected
  line L22 (113.35, -74.5) -> (-113.35, -74.5) projected
  line L23 (113.35, 74.5) -> (113.35, -74.5) projected
  line L24 (-113.35, 74.5) -> (113.35, 74.5) projected
  line L25 (-113.35, -74.5) -> (-113.35, 74.5) projected
  line L26 (113.35, -74.5) -> (-113.35, -74.5) projected
  line L27 (-113.35, 74.5) -> (113.35, 74.5)
  line L28 (113.35, 74.5) -> (113.35, -74.5)
  line L29 (113.35, -74.5) -> (-113.35, -74.5)
  line L30 (-113.35, -74.5) -> (-113.35, 74.5)
  point P0 (0, 0)
extrude "ExtrusionForBottom" add sketch "Sketch39" along normal blind 14
sketch "Sketch40" plane through (113.35, -74.5, -50) normal (1, 0, 0) x (0, 0, -1)
  line L0 (-50, 0) -> (14, 0) construction
  line L1 (7, 0) -> (7, 149) construction
  line L2 (-50, 149) -> (14, 149) construction
  line L3 (14, 149) -> (14, 0) construction
  point P0 (-50, 74.5)
  point P1 (7, 40)
  point P2 (7, 109)
  dimension "d234" = 7
  dimension "d235" = 40
  dimension "d236" = 40
hole "1-4 holesToBoltFixture" at (113.35, -34.5, -57) at (113.35, 34.5, -57) direction (-1, 0, 0) diameter 7.142 end through all counterbore diameter 12 counterbore depth 5 clearance for "Hex Machine Screw" size "1/4" standard "Ansi Unified Screw Threads"
ref_plane "Work Plane1" through (30, 0, 0) normal (1, 0, 0) x (0, 1, 0)
ref_plane "Work Plane2" through (-20, 0, 0) normal (1, 0, 0) x (0, 1, 0)
mirror "Mirror4" about plane through (0, 0, 0) normal (1, 0, 0) of "1-4 holesToBoltFixture"
sketch "Sketch43" plane through (113.35, -74.5, -50) normal (1, 0, 0) x (0, 0, -1)
  circle A0 centre (7, 40) radius 6 projected
  circle A1 centre (7, 109) radius 6 projected
  line L0 (-50, 66.5) -> (-50, 0) projected
  line L1 (-50, 0) -> (14, 0) projected
  line L2 (14, 149) -> (14, 0) projected
  line L3 (-50, 149) -> (14, 149) projected
  line L4 (-50, 149) -> (-50, 82.5) projected
  line L5 (-50, 82.5) -> (-26, 82.5) projected
  arc A2 (-26, 66.5) -> (-26, 82.5) centre (-26, 74.5) ccw projected
  line L6 (-26, 66.5) -> (-50, 66.5) projected
  circle A3 centre (-29, 74.5) radius 26.125
  circle A4 centre (-29, 74.5) radius 23.5
  point P0 (-50, 74.5)
  point P1 (-50, 85.0475)
  point P2 (-50, 63.9525)
  point P3 (-50, 58.9592)
  point P4 (-50, 90.0408)
  dimension "d255" = 21
  dimension "d256" = 52.25
  dimension "d257" = 47
extrude "CutOutForFilter" cut sketch "Sketch43" against normal blind 2.25 contours A4 L4 A3 L0 picked at (-35.0652, 51.0112)
sketch "Sketch47" plane through (113.35, -74.5, -50) normal (1, 0, 0) x (0, 0, -1)
  arc A0 (-50, 58.9592) -> (-50, 90.0408) centre (-29, 74.5) ccw projected
  line L0 (-50, 58.9592) -> (-50, 0) projected
  line L1 (-50, 0) -> (14, 0) projected
  line L2 (14, 149) -> (14, 0) projected
  line L3 (-50, 149) -> (14, 149) projected
  line L4 (-50, 149) -> (-50, 90.0408) projected
  circle A1 centre (7, 40) radius 6 projected
  circle A2 centre (7, 109) radius 6 projected
  line L5 (-13, 149) -> (-13, 0) construction
  line L6 (-50, 0) -> (14, 0) construction
  point P0 (-50, 74.5)
  point P1 (-13, 144)
  point P2 (-13, 5)
  dimension "d293" = 27
  dimension "d294" = 5
  dimension "d295" = 5
hole "Hole13" at (113.35, 69.5, -37) at (113.35, -69.5, -37) direction (-1, 0, 0) diameter 4.699 depth 7.1374 counterbore diameter 4.8514 counterbore depth 5.5524
ref_plane "Work Plane4" through (30, -74.5, -64) normal (1, 0, 0) x (0, 0, -1)
sketch "Sketch48" plane through (30, -74.5, -64) normal (1, 0, 0) x (0, 0, -1)
  circle A0 centre (-7, 40) radius 3.571 projected
  circle A1 centre (-7, 109) radius 3.571 projected
  point P0 (-64, 74.5)
hole "Hole14" at (30, -34.5, -57) at (30, 34.5, -57) direction (-1, 0, 0) diameter 8 depth 12.75 counterbore diameter 9.52 counterbore depth 9.9
ref_plane "Work Plane5" through (-20, -74.5, -64) normal (-1, 0, 0) x (0, 0, 1)
sketch "Sketch50" plane through (-20, -74.5, -64) normal (-1, 0, 0) x (0, 0, 1)
  circle A0 centre (7, 109) radius 4 projected
  circle A1 centre (7, 40) radius 3.571 projected
  point P0 (64, 74.5)
hole "Hole15" at (-20, 34.5, -57) at (-20, -34.5, -57) direction (1, 0, 0) diameter 8 depth 12.75 counterbore diameter 9.52 counterbore depth 9.9
split "Split8" plane through (-20, 0, 0) removes the side toward (1, 0, 0)
sketch "Sketch46" plane through (-113.35, -74.5, 0) normal (0, -1, 0) x (1, 0, 0)
  line L0 (0, 0) -> (93.35, 0) projected
  line L1 (0, 0) -> (0, -64) projected
  line L2 (93.35, -64) -> (0, -64) projected
  line L3 (143.35, 12.8) -> (143.35, -76.8) projected
  line L4 (93.35, 12.8) -> (93.35, -76.8) projected
  line L5 (226.7, -24) -> (226.7, -32) construction
  line L6 (0, -32) -> (226.7, -32) construction
  line L7 (135.35, -32) -> (151.35, -16)
  line L8 (151.35, -16) -> (143.35, -8)
  line L9 (135.35, -32) -> (151.35, -48)
  line L10 (151.35, -48) -> (143.35, -56)
  line L11 (143.35, -8) -> (143.35, -56)
  line L12 (101.35, -32) -> (85.35, -16)
  line L13 (85.35, -16) -> (93.35, -8)
  line L14 (101.35, -32) -> (85.35, -48)
  line L15 (85.35, -48) -> (93.35, -56)
  line L16 (93.35, -56) -> (93.35, -8)
  line L17 (93.35, -56) -> (93.35, -40)
  line L18 (93.35, -64) -> (93.35, 0) projected
  line L19 (93.35, -64) -> (93.35, 0) projected
  point P0 (113.35, 0)
  point P1 (143.35, -40)
  point P2 (143.35, -24)
  point P3 (93.35, -24)
  dimension "d264" = 90
  dimension "d265" = 90
  dimension "d266" = 90
  dimension "d267" = 8
  dimension "d268" = 8
  dimension "d269" = 8
  dimension "d270" = 8
  dimension "d271" = 90
  dimension "d272" = 90
  dimension "d273" = 90
extrude "Extrusion33" add sketch "Sketch46" against normal blind 149 contours L12 L14 L4
extrude "Extrusion34" cut sketch "Sketch46" against normal blind 149 contours L4 L12 L13 | L15 L14 L4
equation "\"d0\" = newCaseLength"
equation "\"d1\" = caseWidth"
equation "\"d2\" = caseDepth"
equation "\"d5\" = lensLength"
equation "\"d6\" = cameraWidth"
equation "\"d7\" = cameraLength"
equation "\"d8\" = maxComponentDepth"
equation "\"d13\" = fanDepth"
equation "\"d14\" = fanWidth"
equation "\"d15\" = rearWallThickness"
equation "\"d16\" = maxComponentDepth"
equation "\"d20\" = piCaseDepth"
equation "\"d21\" = piCaseLength"
equation "\"d88\" = minDelta"
equation "\"d22\" = maxComponentDepth"
equation "\"d25\" = minDelta"
equation "\"d26\" = poeWidth"
equation "\"d27\" = poeLength"
equation "\"d28\" = maxComponentDepth"
equation "\"d36\" = thermisterLength"
equation "\"d37\" = thermisterWidth"
equation "\"d85\" = frontWallThickness"
equation "\"d38\" = maxComponentDepth"
equation "\"d42\" = sensorLength"
equation "\"d43\" = sensorWidth"
equation "\"d86\" = frontWallThickness"
equation "\"d87\" = outsideWallThickness"
equation "\"d46\" = cutoutDepth"
equation "\"outsideWallThickness\" = 10"
equation "\"caseWidth\" = piCaseLength + 2 * outsideWallThickness"
equation "\"cameraWidth\" = 54"
equation "\"oneHalfCaseDepth\" = piCaseWidth"
equation "\"caseLength\" = 189.7"
equation "\"cameraLength\" = 59"
equation "\"lensLength\" = 15.7"
equation "\"piCaseWidth\" = 63"
equation "\"piCaseDepth\" = 32"
equation "\"poeDepth\" = 38"
equation "\"piEthernetCableReliefLength\" = 35"
equation "\"poeEthernetCableReliefLength\" = 35"
equation "\"thermisterDepth\" = 18"
equation "\"sensorDepth\" = 11"
equation "\"cutoutDepth\" = 0.5 * piCaseWidth"
equation "\"thickenDistance\" = 1"
equation "\"bottomOfCaseWallThickness\" = 3"
equation "\"rearWallThickness\" = 3"
equation "\"maxComponentDepth\" = extraCutoutDepth + 0.5 * piCaseWidth"
equation "\"caseDepth\" = maxComponentDepth + bottomOfCaseWallThickness"
equation "\"minDelta\" = 16"
equation "\"fanCutoutDepth\" = 0.5 * fanLength + extraCutoutDepth + thickenDistance"
equation "\"newCaseLength\" = 222.7"
equation "\"frontWallThickness\" = 3"
equation "\"d95\" = lensDiameter"
equation "\"extraCutoutDepth\" = 15.5"
equation "\"bottomExtrusion\" = 14"
equation "\"fanDepth\" = 16"
equation "\"fanWidth\" = 62"
equation "\"piCaseLength\" = 129"
equation "\"poeWidth\" = 49"
equation "\"poeLength\" = 118"
equation "\"thermisterLength\" = 69"
equation "\"thermisterWidth\" = 28"
equation "\"sensorLength\" = 50"
equation "\"sensorWidth\" = 17"
equation "\"fanLength\" = 60"
equation "\"lensDiameter\" = 15"
properties part number "caseLowerPortion" material "PC/ABS Plastic"
